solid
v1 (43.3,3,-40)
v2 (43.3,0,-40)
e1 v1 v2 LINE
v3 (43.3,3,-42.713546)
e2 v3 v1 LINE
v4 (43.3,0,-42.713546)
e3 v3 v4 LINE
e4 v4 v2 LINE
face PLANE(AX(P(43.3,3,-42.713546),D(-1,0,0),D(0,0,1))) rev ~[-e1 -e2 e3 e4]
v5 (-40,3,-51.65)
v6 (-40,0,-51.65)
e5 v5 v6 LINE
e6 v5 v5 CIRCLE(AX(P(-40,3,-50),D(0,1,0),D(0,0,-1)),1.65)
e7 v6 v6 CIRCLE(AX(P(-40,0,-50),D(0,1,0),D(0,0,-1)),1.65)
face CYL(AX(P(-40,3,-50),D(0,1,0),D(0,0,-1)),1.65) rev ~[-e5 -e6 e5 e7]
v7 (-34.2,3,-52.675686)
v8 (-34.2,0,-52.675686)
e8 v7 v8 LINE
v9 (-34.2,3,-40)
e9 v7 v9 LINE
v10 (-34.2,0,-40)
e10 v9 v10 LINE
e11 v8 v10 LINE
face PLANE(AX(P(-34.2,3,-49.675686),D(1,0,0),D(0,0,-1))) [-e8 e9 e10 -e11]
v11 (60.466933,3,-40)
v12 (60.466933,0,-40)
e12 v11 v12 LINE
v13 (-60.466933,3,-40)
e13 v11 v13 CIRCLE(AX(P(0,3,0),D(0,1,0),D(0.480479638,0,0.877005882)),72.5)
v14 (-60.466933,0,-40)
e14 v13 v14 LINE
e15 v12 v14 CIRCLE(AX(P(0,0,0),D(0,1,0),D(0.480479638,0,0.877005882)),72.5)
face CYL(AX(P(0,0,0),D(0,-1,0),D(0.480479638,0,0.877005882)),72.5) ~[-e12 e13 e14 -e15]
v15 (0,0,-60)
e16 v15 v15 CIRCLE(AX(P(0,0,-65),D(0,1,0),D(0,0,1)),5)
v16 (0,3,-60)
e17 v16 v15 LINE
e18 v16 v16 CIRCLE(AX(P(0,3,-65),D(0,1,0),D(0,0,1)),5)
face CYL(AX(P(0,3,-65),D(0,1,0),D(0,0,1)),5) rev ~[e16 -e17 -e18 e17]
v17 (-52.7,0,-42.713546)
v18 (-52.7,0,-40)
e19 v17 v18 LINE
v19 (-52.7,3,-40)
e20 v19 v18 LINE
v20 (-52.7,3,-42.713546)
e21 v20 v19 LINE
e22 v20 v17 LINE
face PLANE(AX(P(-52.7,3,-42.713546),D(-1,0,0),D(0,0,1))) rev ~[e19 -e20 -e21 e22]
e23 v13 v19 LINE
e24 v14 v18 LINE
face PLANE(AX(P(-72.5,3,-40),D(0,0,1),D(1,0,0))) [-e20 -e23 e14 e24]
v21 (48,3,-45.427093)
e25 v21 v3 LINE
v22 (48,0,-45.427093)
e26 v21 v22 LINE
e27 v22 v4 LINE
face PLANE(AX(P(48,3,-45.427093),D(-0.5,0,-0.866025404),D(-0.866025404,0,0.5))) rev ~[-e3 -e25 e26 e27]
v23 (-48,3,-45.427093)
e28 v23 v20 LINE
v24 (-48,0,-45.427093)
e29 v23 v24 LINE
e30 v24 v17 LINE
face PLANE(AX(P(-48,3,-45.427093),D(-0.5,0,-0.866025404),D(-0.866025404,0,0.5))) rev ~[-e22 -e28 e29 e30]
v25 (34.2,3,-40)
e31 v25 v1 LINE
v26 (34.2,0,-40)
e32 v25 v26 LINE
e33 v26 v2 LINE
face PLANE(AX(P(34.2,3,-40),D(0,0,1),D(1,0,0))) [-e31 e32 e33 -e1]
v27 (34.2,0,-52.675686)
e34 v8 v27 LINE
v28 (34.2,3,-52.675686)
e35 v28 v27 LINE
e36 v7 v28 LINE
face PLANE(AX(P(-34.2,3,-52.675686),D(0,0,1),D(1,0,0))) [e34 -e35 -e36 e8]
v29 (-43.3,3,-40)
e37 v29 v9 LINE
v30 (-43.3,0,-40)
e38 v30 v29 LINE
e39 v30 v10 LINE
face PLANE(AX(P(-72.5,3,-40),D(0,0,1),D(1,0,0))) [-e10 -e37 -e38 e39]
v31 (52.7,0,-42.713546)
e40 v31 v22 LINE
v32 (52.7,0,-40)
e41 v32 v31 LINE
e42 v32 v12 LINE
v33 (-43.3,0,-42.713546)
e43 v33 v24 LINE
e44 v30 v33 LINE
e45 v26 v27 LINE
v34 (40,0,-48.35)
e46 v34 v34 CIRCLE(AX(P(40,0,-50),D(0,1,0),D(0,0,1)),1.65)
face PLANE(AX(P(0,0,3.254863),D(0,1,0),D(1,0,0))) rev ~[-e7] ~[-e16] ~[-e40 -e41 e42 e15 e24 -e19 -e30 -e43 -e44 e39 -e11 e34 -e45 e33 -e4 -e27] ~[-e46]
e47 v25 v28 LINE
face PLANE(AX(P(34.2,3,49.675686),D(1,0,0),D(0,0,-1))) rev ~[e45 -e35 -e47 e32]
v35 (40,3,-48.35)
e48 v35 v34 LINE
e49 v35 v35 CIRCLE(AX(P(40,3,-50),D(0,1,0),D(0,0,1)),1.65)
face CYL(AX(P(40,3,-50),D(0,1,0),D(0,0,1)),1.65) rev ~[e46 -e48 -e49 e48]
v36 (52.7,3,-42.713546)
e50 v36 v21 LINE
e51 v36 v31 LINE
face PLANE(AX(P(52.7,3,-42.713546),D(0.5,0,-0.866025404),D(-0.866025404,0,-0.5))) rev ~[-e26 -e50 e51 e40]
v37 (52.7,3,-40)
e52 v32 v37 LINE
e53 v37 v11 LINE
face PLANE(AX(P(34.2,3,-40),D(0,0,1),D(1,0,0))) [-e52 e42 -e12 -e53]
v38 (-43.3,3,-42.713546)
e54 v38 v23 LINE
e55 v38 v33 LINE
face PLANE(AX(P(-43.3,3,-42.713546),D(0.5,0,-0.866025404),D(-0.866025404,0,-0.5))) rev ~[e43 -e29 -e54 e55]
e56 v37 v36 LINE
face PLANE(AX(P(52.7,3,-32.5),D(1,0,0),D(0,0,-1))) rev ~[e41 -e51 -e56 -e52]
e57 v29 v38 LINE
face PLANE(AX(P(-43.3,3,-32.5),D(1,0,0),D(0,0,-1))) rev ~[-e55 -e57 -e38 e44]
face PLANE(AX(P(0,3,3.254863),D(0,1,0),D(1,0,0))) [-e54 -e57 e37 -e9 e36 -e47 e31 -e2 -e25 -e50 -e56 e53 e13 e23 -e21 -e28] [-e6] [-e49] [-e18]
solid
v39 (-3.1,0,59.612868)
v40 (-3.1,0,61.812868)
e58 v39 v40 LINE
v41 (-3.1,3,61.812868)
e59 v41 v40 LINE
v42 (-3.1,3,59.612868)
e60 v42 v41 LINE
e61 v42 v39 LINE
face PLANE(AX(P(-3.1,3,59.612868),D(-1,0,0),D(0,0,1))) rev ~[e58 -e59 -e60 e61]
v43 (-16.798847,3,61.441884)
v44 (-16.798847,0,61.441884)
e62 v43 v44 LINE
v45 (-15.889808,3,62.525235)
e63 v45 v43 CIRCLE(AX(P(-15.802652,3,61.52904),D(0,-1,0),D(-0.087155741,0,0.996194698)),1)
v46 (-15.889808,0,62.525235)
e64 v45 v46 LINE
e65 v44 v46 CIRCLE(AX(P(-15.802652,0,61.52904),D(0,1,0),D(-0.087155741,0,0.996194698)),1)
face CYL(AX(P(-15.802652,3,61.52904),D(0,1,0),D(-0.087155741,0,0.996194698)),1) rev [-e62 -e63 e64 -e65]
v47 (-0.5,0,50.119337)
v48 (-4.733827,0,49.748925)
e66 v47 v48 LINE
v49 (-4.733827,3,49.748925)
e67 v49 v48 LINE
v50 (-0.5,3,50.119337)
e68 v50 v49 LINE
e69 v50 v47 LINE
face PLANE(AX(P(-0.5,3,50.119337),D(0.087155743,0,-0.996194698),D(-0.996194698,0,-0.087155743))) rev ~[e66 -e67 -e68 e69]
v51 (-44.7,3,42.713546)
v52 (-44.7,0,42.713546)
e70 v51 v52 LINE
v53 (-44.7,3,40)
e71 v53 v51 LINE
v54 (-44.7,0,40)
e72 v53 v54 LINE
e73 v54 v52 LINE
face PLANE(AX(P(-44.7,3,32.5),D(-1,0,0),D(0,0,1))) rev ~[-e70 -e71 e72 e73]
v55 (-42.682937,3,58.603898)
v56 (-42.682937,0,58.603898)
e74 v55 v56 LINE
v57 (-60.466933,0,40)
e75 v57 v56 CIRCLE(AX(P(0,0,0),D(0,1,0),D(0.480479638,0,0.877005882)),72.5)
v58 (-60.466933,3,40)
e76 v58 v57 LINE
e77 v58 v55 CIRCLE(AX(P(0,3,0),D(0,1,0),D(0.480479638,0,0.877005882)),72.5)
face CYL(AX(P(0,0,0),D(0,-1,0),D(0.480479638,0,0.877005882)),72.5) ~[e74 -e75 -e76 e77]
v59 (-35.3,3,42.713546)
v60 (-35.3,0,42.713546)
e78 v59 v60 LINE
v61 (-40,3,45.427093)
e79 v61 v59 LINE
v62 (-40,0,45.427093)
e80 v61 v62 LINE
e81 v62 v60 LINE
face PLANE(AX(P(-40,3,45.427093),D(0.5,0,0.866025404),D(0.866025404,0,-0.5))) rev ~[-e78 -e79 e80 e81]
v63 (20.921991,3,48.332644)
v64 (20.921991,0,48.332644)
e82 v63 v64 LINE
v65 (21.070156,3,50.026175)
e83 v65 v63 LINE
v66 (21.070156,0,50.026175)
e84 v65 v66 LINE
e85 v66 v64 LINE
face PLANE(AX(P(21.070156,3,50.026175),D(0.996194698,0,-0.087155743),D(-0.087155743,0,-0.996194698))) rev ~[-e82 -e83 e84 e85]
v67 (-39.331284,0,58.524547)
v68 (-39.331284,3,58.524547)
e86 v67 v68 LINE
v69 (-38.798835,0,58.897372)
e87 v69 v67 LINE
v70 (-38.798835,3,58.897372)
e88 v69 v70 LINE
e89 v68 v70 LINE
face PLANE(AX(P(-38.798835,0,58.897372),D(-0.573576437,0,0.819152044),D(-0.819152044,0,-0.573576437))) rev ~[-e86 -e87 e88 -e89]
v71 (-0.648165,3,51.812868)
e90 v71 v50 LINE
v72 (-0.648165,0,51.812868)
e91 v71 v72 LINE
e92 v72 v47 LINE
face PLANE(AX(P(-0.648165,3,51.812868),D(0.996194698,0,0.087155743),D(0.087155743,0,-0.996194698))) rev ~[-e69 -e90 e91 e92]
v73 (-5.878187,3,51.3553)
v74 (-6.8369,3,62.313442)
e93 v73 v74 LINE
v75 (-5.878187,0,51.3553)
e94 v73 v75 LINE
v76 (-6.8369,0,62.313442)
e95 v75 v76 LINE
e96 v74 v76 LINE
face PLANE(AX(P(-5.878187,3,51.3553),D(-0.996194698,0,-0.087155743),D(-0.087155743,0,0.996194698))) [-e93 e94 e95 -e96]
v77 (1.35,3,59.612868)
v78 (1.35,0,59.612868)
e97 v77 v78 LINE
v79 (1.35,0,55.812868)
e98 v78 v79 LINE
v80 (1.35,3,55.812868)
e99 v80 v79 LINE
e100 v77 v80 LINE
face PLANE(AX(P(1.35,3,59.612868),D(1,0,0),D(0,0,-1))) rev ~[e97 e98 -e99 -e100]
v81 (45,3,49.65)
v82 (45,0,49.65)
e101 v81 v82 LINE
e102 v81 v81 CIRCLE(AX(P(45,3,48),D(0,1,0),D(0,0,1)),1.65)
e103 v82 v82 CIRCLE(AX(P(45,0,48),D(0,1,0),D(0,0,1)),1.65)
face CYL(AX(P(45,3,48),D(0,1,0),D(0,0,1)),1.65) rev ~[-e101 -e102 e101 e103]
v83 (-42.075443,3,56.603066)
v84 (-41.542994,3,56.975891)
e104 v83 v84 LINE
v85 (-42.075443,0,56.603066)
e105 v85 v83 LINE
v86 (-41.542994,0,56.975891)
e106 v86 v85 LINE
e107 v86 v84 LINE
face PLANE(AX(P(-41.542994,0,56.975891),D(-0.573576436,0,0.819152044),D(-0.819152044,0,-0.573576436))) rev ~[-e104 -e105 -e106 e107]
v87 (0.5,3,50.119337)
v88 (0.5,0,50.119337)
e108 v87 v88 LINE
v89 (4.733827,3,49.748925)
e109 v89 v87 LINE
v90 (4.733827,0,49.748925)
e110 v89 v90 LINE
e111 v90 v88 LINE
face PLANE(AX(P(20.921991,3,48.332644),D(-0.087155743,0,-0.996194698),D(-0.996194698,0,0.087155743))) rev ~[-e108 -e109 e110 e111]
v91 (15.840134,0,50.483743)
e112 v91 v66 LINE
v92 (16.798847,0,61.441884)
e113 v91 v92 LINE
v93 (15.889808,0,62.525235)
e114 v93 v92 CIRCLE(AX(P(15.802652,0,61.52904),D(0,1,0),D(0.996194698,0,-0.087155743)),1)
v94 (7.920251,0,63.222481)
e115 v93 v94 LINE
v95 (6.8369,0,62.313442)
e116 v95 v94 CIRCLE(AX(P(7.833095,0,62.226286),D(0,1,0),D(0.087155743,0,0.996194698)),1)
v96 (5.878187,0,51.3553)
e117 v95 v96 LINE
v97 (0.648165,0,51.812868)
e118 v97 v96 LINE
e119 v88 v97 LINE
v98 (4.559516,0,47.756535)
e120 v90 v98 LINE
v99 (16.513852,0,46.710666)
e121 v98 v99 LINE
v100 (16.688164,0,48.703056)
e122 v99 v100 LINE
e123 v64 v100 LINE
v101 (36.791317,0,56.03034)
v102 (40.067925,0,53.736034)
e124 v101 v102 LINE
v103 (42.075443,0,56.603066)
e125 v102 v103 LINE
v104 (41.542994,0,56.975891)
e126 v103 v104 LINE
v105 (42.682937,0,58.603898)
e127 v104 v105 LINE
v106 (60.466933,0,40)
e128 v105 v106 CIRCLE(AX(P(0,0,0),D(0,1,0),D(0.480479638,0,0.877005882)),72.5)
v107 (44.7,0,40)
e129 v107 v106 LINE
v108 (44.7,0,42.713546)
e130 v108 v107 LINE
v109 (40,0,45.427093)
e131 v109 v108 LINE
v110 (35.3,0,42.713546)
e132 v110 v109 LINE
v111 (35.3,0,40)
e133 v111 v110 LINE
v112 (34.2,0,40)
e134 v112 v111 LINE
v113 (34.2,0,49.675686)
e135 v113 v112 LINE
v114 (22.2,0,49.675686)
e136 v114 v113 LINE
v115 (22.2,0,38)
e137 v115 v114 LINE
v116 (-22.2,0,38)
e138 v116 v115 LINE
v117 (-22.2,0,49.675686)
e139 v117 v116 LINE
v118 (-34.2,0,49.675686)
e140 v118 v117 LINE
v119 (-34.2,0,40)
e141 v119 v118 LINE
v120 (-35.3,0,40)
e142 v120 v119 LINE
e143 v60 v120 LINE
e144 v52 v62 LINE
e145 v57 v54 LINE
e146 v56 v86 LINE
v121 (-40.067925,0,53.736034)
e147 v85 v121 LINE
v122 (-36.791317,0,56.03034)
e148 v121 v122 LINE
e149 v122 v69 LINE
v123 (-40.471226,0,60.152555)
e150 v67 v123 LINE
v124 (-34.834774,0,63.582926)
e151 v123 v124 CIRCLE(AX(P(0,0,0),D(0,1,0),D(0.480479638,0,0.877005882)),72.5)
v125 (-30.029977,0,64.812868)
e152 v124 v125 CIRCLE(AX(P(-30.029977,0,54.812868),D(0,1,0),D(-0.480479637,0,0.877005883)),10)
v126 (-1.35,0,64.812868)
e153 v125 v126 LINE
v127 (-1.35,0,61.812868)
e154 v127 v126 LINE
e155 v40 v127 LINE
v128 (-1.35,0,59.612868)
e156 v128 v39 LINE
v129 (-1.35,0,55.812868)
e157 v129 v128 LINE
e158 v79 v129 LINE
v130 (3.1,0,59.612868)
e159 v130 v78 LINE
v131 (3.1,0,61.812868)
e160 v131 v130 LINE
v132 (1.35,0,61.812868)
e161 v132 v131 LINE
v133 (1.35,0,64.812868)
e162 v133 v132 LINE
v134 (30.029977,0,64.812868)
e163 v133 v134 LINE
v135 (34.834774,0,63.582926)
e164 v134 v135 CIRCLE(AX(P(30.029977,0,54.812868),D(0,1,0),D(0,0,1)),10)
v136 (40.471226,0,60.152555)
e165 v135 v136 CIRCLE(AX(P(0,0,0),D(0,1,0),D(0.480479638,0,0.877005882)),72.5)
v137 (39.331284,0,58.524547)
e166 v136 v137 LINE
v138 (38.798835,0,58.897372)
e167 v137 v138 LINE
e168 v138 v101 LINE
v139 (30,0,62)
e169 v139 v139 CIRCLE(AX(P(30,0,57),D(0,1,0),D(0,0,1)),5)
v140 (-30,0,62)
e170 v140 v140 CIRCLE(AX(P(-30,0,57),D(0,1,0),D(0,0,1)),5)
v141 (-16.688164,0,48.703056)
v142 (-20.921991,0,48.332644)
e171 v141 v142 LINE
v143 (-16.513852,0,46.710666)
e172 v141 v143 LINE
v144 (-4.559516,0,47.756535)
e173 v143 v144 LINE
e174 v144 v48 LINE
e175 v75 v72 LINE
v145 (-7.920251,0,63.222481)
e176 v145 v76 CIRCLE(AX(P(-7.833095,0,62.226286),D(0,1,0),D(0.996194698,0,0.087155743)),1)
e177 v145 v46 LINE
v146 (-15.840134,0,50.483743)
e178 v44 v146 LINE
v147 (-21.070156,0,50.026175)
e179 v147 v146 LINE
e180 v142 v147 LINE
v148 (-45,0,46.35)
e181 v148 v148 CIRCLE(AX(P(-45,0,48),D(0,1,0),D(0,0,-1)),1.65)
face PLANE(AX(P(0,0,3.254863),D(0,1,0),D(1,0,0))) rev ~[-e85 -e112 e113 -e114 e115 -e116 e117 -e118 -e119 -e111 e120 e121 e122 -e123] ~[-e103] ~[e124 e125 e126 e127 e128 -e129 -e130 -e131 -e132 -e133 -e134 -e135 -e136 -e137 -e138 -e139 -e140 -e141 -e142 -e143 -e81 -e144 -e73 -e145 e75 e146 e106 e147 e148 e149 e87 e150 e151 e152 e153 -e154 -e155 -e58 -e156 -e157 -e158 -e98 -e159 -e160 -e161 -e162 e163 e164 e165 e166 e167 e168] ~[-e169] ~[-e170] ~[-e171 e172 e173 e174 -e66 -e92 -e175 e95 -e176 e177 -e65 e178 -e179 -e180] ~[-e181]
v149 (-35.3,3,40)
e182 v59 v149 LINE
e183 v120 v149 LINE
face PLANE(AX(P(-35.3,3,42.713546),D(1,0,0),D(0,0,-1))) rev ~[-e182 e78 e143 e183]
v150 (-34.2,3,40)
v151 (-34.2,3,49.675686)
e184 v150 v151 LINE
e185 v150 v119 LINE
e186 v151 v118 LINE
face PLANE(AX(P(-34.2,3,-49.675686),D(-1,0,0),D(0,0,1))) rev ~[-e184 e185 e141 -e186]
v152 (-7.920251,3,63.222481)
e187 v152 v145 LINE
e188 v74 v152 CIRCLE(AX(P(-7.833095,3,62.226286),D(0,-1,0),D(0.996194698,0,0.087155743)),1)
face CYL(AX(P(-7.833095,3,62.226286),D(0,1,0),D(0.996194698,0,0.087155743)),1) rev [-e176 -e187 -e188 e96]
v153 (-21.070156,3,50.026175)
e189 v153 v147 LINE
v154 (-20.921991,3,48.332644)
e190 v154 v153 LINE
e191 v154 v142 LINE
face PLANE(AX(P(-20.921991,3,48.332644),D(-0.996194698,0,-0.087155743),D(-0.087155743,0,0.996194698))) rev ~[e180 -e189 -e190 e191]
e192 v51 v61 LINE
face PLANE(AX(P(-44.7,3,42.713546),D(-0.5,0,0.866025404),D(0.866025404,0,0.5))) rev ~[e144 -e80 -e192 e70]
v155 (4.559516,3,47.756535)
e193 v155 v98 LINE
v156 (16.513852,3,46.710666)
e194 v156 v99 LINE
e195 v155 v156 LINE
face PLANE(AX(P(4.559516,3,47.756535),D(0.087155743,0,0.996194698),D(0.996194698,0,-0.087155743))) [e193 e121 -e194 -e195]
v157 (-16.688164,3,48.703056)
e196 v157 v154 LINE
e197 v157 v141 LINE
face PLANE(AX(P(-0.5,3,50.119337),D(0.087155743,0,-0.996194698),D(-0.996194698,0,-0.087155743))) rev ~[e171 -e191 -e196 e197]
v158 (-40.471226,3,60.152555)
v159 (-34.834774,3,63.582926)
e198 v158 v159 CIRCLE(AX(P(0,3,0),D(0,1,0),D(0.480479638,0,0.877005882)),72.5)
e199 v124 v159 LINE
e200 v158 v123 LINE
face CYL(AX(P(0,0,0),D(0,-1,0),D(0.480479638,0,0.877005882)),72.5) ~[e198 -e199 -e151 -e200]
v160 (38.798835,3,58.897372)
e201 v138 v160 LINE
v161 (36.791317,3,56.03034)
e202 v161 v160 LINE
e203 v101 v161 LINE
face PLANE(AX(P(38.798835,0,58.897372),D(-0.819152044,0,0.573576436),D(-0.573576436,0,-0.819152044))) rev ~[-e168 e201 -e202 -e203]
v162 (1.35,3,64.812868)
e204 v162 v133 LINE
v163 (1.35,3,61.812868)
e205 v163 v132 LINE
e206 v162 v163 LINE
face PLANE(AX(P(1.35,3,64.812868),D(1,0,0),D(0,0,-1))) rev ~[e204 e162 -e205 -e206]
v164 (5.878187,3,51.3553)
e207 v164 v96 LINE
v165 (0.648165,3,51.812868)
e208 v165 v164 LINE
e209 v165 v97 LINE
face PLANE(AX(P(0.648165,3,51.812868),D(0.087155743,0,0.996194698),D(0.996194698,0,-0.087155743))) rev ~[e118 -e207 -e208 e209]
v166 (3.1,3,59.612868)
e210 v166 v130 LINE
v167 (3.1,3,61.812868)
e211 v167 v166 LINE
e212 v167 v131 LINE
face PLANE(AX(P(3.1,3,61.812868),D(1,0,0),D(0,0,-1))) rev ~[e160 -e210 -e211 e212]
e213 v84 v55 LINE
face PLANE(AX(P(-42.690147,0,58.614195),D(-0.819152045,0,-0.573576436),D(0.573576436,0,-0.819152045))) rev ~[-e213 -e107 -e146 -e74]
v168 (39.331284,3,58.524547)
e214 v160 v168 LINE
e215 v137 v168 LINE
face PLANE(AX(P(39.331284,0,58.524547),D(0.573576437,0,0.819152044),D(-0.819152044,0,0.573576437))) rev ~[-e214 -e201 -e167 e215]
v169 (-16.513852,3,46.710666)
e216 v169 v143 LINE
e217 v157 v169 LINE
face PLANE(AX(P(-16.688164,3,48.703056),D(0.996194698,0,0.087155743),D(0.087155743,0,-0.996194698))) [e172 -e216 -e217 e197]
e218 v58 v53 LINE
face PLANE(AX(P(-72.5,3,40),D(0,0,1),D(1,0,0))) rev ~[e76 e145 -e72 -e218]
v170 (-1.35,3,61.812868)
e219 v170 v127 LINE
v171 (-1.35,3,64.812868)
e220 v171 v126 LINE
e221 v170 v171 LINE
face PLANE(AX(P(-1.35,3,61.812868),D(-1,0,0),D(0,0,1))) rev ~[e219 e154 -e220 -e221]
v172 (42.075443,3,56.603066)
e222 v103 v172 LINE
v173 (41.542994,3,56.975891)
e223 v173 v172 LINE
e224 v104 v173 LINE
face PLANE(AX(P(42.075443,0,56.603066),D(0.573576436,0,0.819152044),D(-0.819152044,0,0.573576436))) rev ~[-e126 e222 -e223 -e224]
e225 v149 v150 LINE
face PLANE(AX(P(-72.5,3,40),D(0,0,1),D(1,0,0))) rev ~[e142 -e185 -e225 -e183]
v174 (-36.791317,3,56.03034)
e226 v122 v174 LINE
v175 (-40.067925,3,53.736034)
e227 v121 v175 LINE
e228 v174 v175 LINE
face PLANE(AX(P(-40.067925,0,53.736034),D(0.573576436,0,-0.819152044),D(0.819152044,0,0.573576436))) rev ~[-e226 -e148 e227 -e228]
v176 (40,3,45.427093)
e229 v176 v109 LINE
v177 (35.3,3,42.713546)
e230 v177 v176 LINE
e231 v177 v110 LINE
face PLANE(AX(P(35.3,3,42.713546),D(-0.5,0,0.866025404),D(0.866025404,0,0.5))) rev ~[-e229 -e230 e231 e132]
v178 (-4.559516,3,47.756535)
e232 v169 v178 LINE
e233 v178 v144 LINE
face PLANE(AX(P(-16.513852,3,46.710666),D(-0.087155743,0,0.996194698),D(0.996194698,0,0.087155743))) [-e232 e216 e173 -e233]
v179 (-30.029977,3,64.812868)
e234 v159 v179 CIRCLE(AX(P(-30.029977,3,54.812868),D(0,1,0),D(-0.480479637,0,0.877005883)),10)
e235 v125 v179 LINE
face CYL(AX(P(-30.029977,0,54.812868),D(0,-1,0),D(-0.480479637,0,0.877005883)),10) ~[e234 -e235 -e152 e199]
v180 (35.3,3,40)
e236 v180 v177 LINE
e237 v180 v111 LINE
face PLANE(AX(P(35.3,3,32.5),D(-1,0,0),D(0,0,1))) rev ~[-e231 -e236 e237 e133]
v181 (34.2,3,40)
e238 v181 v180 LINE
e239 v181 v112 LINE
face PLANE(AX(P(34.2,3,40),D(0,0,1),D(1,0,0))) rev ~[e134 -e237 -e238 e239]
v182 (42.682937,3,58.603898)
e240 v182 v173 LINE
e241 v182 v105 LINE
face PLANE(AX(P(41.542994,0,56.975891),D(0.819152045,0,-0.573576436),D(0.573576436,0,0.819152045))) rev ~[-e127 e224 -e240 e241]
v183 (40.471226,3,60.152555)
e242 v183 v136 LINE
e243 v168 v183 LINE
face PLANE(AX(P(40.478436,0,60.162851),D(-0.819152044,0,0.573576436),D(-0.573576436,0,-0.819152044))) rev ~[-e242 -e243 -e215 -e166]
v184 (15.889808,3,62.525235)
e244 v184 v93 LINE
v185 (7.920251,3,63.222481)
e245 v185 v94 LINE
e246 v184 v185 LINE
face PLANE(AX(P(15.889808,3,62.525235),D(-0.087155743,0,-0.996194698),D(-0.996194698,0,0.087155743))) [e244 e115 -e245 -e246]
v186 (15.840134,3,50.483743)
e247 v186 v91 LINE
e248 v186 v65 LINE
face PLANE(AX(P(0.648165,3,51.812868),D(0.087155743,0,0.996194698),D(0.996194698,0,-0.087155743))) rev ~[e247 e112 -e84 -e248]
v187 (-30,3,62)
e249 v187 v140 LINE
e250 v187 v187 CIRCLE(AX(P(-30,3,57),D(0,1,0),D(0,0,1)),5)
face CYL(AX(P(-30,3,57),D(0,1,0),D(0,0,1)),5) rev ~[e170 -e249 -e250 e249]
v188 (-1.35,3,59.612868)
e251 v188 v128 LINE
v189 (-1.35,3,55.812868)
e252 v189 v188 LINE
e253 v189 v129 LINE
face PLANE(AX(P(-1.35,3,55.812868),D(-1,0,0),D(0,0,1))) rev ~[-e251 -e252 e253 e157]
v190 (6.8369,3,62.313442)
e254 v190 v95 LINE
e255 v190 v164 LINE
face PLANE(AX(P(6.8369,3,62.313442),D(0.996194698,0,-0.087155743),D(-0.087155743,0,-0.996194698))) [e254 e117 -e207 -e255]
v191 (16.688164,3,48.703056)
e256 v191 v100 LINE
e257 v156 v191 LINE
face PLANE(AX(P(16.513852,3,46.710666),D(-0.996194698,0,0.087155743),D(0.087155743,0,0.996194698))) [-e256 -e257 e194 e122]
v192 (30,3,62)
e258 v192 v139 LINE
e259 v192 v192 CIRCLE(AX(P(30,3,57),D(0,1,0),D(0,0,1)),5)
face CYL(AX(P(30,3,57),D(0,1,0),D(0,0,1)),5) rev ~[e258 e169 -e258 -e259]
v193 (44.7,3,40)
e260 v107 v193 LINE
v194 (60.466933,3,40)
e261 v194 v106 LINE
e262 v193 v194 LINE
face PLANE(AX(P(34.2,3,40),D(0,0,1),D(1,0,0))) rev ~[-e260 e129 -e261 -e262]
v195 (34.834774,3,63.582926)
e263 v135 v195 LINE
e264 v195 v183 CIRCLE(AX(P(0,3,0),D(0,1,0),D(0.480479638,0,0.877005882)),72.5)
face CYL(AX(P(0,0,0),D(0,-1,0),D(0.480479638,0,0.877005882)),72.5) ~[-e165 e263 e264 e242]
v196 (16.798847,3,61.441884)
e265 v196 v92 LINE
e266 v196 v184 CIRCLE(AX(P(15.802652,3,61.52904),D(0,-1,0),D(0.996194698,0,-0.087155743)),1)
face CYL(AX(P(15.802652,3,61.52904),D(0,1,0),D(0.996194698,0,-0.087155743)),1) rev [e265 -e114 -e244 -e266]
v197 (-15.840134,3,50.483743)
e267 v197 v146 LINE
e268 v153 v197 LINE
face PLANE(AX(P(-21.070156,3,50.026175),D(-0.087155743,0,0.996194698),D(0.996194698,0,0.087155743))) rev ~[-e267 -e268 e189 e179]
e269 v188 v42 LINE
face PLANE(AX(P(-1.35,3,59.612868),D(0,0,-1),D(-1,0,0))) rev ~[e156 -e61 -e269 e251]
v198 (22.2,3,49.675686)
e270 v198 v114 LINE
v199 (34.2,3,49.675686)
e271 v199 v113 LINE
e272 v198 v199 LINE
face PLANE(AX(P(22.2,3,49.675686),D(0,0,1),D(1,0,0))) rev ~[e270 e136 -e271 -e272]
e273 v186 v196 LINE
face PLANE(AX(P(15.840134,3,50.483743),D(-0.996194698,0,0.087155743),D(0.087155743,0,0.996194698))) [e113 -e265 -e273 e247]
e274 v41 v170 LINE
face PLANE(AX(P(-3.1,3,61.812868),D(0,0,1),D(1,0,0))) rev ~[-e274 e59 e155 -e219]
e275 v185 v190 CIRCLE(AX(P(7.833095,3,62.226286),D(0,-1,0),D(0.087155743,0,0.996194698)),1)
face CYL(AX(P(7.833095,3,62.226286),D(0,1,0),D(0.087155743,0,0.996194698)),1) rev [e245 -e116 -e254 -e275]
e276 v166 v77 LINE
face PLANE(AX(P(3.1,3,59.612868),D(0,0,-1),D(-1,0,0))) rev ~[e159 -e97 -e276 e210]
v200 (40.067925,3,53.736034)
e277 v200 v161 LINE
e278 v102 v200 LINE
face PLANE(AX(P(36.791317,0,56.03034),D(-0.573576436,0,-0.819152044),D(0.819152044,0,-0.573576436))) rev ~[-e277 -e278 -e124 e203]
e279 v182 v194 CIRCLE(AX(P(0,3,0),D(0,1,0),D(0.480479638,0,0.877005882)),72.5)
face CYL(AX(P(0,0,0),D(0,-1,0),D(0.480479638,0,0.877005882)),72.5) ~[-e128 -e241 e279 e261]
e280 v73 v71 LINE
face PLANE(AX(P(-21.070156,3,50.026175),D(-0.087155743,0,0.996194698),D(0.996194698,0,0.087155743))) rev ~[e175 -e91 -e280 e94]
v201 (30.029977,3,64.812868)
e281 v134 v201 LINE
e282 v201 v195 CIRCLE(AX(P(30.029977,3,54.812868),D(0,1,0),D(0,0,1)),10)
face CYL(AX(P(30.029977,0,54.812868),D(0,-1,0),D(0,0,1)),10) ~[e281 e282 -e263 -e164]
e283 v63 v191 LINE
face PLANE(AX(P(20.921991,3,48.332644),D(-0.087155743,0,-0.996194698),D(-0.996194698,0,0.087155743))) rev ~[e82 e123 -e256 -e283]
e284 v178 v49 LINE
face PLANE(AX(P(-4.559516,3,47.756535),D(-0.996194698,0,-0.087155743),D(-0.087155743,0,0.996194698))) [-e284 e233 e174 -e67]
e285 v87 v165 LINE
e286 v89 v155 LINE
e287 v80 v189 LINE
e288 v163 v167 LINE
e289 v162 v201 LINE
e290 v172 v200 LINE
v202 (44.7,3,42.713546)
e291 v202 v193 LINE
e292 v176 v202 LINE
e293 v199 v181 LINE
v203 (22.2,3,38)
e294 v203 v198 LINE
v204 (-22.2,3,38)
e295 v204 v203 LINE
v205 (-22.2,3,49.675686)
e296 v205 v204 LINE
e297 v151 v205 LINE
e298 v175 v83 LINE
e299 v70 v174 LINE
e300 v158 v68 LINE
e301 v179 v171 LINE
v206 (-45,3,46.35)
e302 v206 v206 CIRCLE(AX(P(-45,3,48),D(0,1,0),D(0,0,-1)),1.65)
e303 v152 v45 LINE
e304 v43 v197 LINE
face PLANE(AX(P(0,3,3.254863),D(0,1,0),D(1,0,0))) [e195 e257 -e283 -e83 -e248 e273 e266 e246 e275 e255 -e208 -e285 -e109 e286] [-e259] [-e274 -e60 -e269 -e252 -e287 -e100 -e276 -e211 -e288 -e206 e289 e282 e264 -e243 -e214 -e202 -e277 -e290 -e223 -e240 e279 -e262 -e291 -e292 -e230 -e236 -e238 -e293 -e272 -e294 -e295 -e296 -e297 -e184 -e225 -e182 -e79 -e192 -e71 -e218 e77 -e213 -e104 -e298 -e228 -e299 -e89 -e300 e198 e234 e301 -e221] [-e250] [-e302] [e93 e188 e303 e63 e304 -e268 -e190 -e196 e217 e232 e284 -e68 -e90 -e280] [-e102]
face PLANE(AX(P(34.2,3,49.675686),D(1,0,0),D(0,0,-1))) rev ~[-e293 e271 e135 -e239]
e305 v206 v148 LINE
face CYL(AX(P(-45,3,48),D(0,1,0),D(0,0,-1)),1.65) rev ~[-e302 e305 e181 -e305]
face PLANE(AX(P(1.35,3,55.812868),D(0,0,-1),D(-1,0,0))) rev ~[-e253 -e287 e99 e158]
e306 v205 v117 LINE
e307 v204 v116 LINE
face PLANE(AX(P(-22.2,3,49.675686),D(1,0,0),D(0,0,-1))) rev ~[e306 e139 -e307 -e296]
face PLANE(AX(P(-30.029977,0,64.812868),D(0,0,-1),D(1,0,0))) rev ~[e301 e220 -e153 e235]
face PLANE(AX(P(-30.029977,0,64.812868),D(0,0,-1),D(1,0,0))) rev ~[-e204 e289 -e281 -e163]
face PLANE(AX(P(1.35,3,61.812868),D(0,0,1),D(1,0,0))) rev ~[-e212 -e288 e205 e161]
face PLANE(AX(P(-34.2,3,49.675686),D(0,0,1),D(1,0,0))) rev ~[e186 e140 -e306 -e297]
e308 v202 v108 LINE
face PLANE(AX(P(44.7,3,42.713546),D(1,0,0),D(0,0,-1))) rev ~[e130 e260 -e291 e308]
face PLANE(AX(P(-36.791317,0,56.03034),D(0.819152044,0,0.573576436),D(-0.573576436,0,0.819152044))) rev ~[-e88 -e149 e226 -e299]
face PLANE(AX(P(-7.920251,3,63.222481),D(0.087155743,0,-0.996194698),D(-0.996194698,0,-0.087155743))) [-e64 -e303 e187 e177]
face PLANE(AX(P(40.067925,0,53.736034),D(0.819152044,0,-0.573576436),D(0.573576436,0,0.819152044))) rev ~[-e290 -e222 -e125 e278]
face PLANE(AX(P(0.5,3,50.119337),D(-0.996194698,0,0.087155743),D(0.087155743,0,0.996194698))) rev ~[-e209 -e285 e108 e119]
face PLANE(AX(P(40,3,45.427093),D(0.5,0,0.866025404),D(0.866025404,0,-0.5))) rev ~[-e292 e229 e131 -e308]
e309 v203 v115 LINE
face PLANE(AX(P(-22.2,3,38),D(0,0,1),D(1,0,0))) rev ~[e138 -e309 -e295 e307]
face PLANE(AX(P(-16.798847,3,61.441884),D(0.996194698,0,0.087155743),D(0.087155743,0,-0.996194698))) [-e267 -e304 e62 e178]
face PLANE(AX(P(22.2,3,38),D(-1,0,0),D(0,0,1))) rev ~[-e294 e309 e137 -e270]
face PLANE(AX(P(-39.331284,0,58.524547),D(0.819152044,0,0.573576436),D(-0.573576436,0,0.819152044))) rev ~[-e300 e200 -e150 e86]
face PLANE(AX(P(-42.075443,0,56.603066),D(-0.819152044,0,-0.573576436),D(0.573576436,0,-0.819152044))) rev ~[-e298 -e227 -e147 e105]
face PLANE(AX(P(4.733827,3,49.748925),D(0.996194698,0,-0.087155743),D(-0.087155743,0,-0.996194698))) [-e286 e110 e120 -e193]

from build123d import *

# Parameters (mm, degrees)
BOSS_EXTRUDE1_DEPTH = 3
CUT_EXTRUDE1_DEPTH  = 103.574363269
SKETCH3_W           = 38.3
SKETCH3_H           = 80
CUT_EXTRUDE2_DEPTH  = 103.574363269
CUT_EXTRUDE3_DEPTH  = 95.453692358
CUT_EXTRUDE4_DEPTH  = 95.453692358
SKETCH6_W           = 68.4
SKETCH6_H           = 3
CUT_EXTRUDE5_DEPTH  = 95.453692358
SKETCH7_R           = 5
CUT_EXTRUDE6_DEPTH  = 95.453692358
CUT_EXTRUDE7_DEPTH  = 95.453692358
SKETCH11_R          = 5
CUT_EXTRUDE10_DEPTH = 95.453692358
CUT_EXTRUDE11_DEPTH = 95.453692358
SKETCH13_R          = 1.65
CUT_EXTRUDE12_DEPTH = 95.453692358
CUT_EXTRUDE13_DEPTH = 95.453692358


with BuildPart() as part:
    # Sketch1 → Boss-Extrude1 (new body)
    with BuildSketch(Plane(origin=(0, 0, 0), x_dir=(1, 0, 0), z_dir=(0, 1, 0))):
        with BuildLine():
            Line((-30.029977361, -64.812867647), (30.029977361, -64.812867647))
            ThreePointArc((30.029977361, -64.812867647), (32.509837414, -64.500503794), (34.834773739, -63.582926471))
            ThreePointArc((34.834773739, -63.582926471), (0, 72.5), (-34.834773739, -63.582926471))
            ThreePointArc((-34.834773739, -63.582926471), (-32.509837414, -64.500503794), (-30.029977361, -64.812867647))
        make_face()
    extrude(amount=BOSS_EXTRUDE1_DEPTH)

    # Sketch2 → Cut-Extrude1 (cut, through all)
    with BuildSketch(Plane(origin=(0, 3, 0), x_dir=(1, 0, 0), z_dir=(0, 1, 0))):
        Polygon((-22.2, -49.675685802), (-22.2, -38), (22.2, -38), (22.2, -49.675685802), (34.2, -49.675685802), (34.2, 49.675685802), (22.2, 49.675685802), (22.2, 44), (-22.2, 44), (-22.2, 49.675685802), (-34.2, 49.675685802), (-34.2, -49.675685802), align=None)
    extrude(amount=-CUT_EXTRUDE1_DEPTH, mode=Mode.SUBTRACT)

    # Sketch3 → Cut-Extrude2 (cut, through all)
    with BuildSketch(Plane(origin=(0, 3, 0), x_dir=(1, 0, 0), z_dir=(0, 1, 0))):
        with Locations((-53.35, 0)):
            Rectangle(SKETCH3_W, SKETCH3_H)
        with Locations((53.35, 0)):
            Rectangle(SKETCH3_W, SKETCH3_H)
    extrude(amount=-CUT_EXTRUDE2_DEPTH, mode=Mode.SUBTRACT)


with BuildPart() as cut_extrude2_piece_1:
    # of the separate pieces the step leaves, piece 1, a body of its own (cut_extrude2_pieces)
    add(part.part.solids().sort_by_distance((60.466933112, 0, -40))[0])

    # Sketch6 → Cut-Extrude5 (cut, through all)
    with BuildSketch(Plane(origin=(0, 3, 0), x_dir=(1, 0, 0), z_dir=(0, 1, 0))):
        with Locations((0, 51.175685802)):
            Rectangle(SKETCH6_W, SKETCH6_H)
    extrude(amount=-CUT_EXTRUDE5_DEPTH, mode=Mode.SUBTRACT)


with BuildPart() as cut_extrude2_piece_2:
    # of the separate pieces the step leaves, piece 2, a body of its own (cut_extrude2_pieces)
    add(part.part.solids().sort_by_distance((-34.834773739, 0, 63.582926471))[0])

    # Sketch4 → Cut-Extrude3 (cut, through all)
    with BuildSketch(Plane(origin=(0, 3, 0), x_dir=(1, 0, 0), z_dir=(0, 1, 0))):
        Polygon((-21.070156074, -50.026174921), (-0.648164763, -51.812867647), (-0.5, -50.11933666), (-20.921991311, -48.332643934), align=None)
        Polygon((21.070156074, -50.026174921), (20.921991311, -48.332643934), (0.5, -50.11933666), (0.648164763, -51.812867647), align=None)
    extrude(amount=-CUT_EXTRUDE3_DEPTH, mode=Mode.SUBTRACT)

    # Sketch5 → Cut-Extrude4 (cut, through all)
    with BuildSketch(Plane(origin=(0, 3, 0), x_dir=(1, 0, 0), z_dir=(0, 1, 0))):
        with BuildLine():
            Line((5.878186928, -51.355299998), (15.840133909, -50.48374257))
            Line((15.840133909, -50.48374257), (16.798847079, -61.441884249))
            ThreePointArc((16.798847079, -61.441884249), (16.568696824, -62.171827602), (15.889808123, -62.52523469))
            Line((15.889808123, -62.52523469), (7.920250539, -63.222480632))
            ThreePointArc((7.920250539, -63.222480632), (7.190307186, -62.992330377), (6.836900098, -62.313441677))
            Line((6.836900098, -62.313441677), (5.878186928, -51.355299998))
        make_face()
        Polygon((16.688163844, -48.703055841), (4.733827467, -49.748924754), (4.559515981, -47.756535357), (16.513852358, -46.710666444), align=None)
        Polygon((-16.513852358, -46.710666444), (-4.559515981, -47.756535357), (-4.733827467, -49.748924754), (-16.688163844, -48.703055841), align=None)
        with BuildLine():
            Line((-7.920250539, -63.222480632), (-15.889808123, -62.52523469))
            ThreePointArc((-15.889808123, -62.52523469), (-16.568696824, -62.171827602), (-16.798847079, -61.441884249))
            Line((-16.798847079, -61.441884249), (-15.840133909, -50.48374257))
            Line((-15.840133909, -50.48374257), (-5.878186928, -51.355299998))
            Line((-5.878186928, -51.355299998), (-6.836900098, -62.313441677))
            ThreePointArc((-6.836900098, -62.313441677), (-7.190307186, -62.992330377), (-7.920250539, -63.222480632))
        make_face()
    extrude(amount=-CUT_EXTRUDE4_DEPTH, mode=Mode.SUBTRACT)

    # Sketch7 → Cut-Extrude6 (cut, through all)
    with BuildSketch(Plane(origin=(0, 3, 0), x_dir=(1, 0, 0), z_dir=(0, 1, 0))):
        with Locations(Location((-30, -57, 0), (0, 0, 270))):
            Circle(SKETCH7_R)
        with Locations(Location((30, -57, 0), (0, 0, 270))):
            Circle(SKETCH7_R)
    extrude(amount=-CUT_EXTRUDE6_DEPTH, mode=Mode.SUBTRACT)


with BuildPart() as cut_extrude5_kept_piece:
    # of the separate pieces the step leaves, the one the design keeps (cut_extrude5_pieces_kept)
    add(cut_extrude2_piece_1.part.solids().sort_by_distance((60.466933112, 0, -40))[0])


with BuildPart() as cut_extrude7_tool:
    # Sketch8 → Cut-Extrude7 (new, through all)
    with BuildSketch(Plane(origin=(0, 3, 0), x_dir=(1, 0, 0), z_dir=(0, 1, 0))):
        Polygon((-52.7, 37.286453735), (-52.7, 32.5), (-43.3, 32.5), (-43.3, 37.286453735), (-43.3, 42.713546265), (-48, 45.42709253), (-52.7, 42.713546265), align=None)
        Polygon((44.7, -32.5), (35.3, -32.5), (35.3, -37.286453735), (35.3, -42.713546265), (40, -45.42709253), (44.7, -42.713546265), (44.7, -37.286453735), align=None)
        Polygon((-35.3, -37.286453735), (-35.3, -32.5), (-44.7, -32.5), (-44.7, -37.286453735), (-44.7, -42.713546265), (-40, -45.42709253), (-35.3, -42.713546265), align=None)
        Polygon((52.7, 32.5), (52.7, 37.286453735), (52.7, 42.713546265), (48, 45.42709253), (43.3, 42.713546265), (43.3, 37.286453735), (43.3, 32.5), align=None)
    extrude(amount=-CUT_EXTRUDE7_DEPTH)


with BuildPart() as cut_extrude2_piece_2_1:
    add(cut_extrude2_piece_2.part)

    # Cut-Extrude7: cut by cut_extrude7_tool
    add(cut_extrude7_tool.part, mode=Mode.SUBTRACT)

    # Sketch12 → Cut-Extrude11 (cut, through all)
    with BuildSketch(Plane(origin=(0, 3, 0), x_dir=(1, 0, 0), z_dir=(0, 1, 0))):
        Polygon((-1.35, -64.812867647), (1.35, -64.812867647), (1.35, -61.812867647), (3.1, -61.812867647), (3.1, -59.612867647), (1.35, -59.612867647), (1.35, -55.812867647), (-1.35, -55.812867647), (-1.35, -59.612867647), (-3.1, -59.612867647), (-3.1, -61.812867647), (-1.35, -61.812867647), align=None)
    extrude(amount=-CUT_EXTRUDE11_DEPTH, mode=Mode.SUBTRACT)


with BuildPart() as cut_extrude5_kept_piece_1:
    add(cut_extrude5_kept_piece.part)

    # Cut-Extrude7: cut by cut_extrude7_tool
    add(cut_extrude7_tool.part, mode=Mode.SUBTRACT)

    # Sketch11 → Cut-Extrude10 (cut, through all)
    with BuildSketch(Plane(origin=(0, 3, 0), x_dir=(1, 0, 0), z_dir=(0, 1, 0))):
        with Locations(Location((0, 65, 0), (0, 0, 270))):
            Circle(SKETCH11_R)
    extrude(amount=-CUT_EXTRUDE10_DEPTH, mode=Mode.SUBTRACT)


with BuildPart() as cut_extrude12_tool:
    # Sketch13 → Cut-Extrude12 (new, through all)
    with BuildSketch(Plane(origin=(0, 3, 0), x_dir=(1, 0, 0), z_dir=(0, 1, 0))):
        with Locations(Location((45, -48, 0), (0, 0, 270))):
            Circle(SKETCH13_R)
        with Locations(Location((-45, -48, 0), (0, 0, 90))):
            Circle(SKETCH13_R)
        with Locations(Location((40, 50, 0), (0, 0, 270))):
            Circle(SKETCH13_R)
        with Locations(Location((-40, 50, 0), (0, 0, 90))):
            Circle(SKETCH13_R)
    extrude(amount=-CUT_EXTRUDE12_DEPTH)


with BuildPart() as cut_extrude2_piece_2_2:
    add(cut_extrude2_piece_2_1.part)

    # Cut-Extrude12: cut by cut_extrude12_tool
    add(cut_extrude12_tool.part, mode=Mode.SUBTRACT)

    # Sketch14 → Cut-Extrude13 (cut, through all)
    with BuildSketch(Plane.XZ):
        Polygon((-41.542994023, 56.975890933), (-42.075442851, 56.60306625), (-40.067925324, 53.736034095), (-36.791317147, 56.03033984), (-38.798834674, 58.897371995), (-39.331283503, 58.524547311), (-40.478436376, 60.1628514), (-42.690146895, 58.614195022), align=None)
        Polygon((41.542994023, 56.975890933), (42.690146895, 58.614195022), (40.478436376, 60.1628514), (39.331283503, 58.524547311), (38.798834674, 58.897371995), (36.791317147, 56.03033984), (40.067925324, 53.736034095), (42.075442851, 56.60306625), align=None)
    extrude(amount=-CUT_EXTRUDE13_DEPTH, mode=Mode.SUBTRACT)


with BuildPart() as cut_extrude5_kept_piece_2:
    add(cut_extrude5_kept_piece_1.part)

    # Cut-Extrude12: cut by cut_extrude12_tool
    add(cut_extrude12_tool.part, mode=Mode.SUBTRACT)


solid = Compound([cut_extrude2_piece_2_2.part, cut_extrude5_kept_piece_2.part])
